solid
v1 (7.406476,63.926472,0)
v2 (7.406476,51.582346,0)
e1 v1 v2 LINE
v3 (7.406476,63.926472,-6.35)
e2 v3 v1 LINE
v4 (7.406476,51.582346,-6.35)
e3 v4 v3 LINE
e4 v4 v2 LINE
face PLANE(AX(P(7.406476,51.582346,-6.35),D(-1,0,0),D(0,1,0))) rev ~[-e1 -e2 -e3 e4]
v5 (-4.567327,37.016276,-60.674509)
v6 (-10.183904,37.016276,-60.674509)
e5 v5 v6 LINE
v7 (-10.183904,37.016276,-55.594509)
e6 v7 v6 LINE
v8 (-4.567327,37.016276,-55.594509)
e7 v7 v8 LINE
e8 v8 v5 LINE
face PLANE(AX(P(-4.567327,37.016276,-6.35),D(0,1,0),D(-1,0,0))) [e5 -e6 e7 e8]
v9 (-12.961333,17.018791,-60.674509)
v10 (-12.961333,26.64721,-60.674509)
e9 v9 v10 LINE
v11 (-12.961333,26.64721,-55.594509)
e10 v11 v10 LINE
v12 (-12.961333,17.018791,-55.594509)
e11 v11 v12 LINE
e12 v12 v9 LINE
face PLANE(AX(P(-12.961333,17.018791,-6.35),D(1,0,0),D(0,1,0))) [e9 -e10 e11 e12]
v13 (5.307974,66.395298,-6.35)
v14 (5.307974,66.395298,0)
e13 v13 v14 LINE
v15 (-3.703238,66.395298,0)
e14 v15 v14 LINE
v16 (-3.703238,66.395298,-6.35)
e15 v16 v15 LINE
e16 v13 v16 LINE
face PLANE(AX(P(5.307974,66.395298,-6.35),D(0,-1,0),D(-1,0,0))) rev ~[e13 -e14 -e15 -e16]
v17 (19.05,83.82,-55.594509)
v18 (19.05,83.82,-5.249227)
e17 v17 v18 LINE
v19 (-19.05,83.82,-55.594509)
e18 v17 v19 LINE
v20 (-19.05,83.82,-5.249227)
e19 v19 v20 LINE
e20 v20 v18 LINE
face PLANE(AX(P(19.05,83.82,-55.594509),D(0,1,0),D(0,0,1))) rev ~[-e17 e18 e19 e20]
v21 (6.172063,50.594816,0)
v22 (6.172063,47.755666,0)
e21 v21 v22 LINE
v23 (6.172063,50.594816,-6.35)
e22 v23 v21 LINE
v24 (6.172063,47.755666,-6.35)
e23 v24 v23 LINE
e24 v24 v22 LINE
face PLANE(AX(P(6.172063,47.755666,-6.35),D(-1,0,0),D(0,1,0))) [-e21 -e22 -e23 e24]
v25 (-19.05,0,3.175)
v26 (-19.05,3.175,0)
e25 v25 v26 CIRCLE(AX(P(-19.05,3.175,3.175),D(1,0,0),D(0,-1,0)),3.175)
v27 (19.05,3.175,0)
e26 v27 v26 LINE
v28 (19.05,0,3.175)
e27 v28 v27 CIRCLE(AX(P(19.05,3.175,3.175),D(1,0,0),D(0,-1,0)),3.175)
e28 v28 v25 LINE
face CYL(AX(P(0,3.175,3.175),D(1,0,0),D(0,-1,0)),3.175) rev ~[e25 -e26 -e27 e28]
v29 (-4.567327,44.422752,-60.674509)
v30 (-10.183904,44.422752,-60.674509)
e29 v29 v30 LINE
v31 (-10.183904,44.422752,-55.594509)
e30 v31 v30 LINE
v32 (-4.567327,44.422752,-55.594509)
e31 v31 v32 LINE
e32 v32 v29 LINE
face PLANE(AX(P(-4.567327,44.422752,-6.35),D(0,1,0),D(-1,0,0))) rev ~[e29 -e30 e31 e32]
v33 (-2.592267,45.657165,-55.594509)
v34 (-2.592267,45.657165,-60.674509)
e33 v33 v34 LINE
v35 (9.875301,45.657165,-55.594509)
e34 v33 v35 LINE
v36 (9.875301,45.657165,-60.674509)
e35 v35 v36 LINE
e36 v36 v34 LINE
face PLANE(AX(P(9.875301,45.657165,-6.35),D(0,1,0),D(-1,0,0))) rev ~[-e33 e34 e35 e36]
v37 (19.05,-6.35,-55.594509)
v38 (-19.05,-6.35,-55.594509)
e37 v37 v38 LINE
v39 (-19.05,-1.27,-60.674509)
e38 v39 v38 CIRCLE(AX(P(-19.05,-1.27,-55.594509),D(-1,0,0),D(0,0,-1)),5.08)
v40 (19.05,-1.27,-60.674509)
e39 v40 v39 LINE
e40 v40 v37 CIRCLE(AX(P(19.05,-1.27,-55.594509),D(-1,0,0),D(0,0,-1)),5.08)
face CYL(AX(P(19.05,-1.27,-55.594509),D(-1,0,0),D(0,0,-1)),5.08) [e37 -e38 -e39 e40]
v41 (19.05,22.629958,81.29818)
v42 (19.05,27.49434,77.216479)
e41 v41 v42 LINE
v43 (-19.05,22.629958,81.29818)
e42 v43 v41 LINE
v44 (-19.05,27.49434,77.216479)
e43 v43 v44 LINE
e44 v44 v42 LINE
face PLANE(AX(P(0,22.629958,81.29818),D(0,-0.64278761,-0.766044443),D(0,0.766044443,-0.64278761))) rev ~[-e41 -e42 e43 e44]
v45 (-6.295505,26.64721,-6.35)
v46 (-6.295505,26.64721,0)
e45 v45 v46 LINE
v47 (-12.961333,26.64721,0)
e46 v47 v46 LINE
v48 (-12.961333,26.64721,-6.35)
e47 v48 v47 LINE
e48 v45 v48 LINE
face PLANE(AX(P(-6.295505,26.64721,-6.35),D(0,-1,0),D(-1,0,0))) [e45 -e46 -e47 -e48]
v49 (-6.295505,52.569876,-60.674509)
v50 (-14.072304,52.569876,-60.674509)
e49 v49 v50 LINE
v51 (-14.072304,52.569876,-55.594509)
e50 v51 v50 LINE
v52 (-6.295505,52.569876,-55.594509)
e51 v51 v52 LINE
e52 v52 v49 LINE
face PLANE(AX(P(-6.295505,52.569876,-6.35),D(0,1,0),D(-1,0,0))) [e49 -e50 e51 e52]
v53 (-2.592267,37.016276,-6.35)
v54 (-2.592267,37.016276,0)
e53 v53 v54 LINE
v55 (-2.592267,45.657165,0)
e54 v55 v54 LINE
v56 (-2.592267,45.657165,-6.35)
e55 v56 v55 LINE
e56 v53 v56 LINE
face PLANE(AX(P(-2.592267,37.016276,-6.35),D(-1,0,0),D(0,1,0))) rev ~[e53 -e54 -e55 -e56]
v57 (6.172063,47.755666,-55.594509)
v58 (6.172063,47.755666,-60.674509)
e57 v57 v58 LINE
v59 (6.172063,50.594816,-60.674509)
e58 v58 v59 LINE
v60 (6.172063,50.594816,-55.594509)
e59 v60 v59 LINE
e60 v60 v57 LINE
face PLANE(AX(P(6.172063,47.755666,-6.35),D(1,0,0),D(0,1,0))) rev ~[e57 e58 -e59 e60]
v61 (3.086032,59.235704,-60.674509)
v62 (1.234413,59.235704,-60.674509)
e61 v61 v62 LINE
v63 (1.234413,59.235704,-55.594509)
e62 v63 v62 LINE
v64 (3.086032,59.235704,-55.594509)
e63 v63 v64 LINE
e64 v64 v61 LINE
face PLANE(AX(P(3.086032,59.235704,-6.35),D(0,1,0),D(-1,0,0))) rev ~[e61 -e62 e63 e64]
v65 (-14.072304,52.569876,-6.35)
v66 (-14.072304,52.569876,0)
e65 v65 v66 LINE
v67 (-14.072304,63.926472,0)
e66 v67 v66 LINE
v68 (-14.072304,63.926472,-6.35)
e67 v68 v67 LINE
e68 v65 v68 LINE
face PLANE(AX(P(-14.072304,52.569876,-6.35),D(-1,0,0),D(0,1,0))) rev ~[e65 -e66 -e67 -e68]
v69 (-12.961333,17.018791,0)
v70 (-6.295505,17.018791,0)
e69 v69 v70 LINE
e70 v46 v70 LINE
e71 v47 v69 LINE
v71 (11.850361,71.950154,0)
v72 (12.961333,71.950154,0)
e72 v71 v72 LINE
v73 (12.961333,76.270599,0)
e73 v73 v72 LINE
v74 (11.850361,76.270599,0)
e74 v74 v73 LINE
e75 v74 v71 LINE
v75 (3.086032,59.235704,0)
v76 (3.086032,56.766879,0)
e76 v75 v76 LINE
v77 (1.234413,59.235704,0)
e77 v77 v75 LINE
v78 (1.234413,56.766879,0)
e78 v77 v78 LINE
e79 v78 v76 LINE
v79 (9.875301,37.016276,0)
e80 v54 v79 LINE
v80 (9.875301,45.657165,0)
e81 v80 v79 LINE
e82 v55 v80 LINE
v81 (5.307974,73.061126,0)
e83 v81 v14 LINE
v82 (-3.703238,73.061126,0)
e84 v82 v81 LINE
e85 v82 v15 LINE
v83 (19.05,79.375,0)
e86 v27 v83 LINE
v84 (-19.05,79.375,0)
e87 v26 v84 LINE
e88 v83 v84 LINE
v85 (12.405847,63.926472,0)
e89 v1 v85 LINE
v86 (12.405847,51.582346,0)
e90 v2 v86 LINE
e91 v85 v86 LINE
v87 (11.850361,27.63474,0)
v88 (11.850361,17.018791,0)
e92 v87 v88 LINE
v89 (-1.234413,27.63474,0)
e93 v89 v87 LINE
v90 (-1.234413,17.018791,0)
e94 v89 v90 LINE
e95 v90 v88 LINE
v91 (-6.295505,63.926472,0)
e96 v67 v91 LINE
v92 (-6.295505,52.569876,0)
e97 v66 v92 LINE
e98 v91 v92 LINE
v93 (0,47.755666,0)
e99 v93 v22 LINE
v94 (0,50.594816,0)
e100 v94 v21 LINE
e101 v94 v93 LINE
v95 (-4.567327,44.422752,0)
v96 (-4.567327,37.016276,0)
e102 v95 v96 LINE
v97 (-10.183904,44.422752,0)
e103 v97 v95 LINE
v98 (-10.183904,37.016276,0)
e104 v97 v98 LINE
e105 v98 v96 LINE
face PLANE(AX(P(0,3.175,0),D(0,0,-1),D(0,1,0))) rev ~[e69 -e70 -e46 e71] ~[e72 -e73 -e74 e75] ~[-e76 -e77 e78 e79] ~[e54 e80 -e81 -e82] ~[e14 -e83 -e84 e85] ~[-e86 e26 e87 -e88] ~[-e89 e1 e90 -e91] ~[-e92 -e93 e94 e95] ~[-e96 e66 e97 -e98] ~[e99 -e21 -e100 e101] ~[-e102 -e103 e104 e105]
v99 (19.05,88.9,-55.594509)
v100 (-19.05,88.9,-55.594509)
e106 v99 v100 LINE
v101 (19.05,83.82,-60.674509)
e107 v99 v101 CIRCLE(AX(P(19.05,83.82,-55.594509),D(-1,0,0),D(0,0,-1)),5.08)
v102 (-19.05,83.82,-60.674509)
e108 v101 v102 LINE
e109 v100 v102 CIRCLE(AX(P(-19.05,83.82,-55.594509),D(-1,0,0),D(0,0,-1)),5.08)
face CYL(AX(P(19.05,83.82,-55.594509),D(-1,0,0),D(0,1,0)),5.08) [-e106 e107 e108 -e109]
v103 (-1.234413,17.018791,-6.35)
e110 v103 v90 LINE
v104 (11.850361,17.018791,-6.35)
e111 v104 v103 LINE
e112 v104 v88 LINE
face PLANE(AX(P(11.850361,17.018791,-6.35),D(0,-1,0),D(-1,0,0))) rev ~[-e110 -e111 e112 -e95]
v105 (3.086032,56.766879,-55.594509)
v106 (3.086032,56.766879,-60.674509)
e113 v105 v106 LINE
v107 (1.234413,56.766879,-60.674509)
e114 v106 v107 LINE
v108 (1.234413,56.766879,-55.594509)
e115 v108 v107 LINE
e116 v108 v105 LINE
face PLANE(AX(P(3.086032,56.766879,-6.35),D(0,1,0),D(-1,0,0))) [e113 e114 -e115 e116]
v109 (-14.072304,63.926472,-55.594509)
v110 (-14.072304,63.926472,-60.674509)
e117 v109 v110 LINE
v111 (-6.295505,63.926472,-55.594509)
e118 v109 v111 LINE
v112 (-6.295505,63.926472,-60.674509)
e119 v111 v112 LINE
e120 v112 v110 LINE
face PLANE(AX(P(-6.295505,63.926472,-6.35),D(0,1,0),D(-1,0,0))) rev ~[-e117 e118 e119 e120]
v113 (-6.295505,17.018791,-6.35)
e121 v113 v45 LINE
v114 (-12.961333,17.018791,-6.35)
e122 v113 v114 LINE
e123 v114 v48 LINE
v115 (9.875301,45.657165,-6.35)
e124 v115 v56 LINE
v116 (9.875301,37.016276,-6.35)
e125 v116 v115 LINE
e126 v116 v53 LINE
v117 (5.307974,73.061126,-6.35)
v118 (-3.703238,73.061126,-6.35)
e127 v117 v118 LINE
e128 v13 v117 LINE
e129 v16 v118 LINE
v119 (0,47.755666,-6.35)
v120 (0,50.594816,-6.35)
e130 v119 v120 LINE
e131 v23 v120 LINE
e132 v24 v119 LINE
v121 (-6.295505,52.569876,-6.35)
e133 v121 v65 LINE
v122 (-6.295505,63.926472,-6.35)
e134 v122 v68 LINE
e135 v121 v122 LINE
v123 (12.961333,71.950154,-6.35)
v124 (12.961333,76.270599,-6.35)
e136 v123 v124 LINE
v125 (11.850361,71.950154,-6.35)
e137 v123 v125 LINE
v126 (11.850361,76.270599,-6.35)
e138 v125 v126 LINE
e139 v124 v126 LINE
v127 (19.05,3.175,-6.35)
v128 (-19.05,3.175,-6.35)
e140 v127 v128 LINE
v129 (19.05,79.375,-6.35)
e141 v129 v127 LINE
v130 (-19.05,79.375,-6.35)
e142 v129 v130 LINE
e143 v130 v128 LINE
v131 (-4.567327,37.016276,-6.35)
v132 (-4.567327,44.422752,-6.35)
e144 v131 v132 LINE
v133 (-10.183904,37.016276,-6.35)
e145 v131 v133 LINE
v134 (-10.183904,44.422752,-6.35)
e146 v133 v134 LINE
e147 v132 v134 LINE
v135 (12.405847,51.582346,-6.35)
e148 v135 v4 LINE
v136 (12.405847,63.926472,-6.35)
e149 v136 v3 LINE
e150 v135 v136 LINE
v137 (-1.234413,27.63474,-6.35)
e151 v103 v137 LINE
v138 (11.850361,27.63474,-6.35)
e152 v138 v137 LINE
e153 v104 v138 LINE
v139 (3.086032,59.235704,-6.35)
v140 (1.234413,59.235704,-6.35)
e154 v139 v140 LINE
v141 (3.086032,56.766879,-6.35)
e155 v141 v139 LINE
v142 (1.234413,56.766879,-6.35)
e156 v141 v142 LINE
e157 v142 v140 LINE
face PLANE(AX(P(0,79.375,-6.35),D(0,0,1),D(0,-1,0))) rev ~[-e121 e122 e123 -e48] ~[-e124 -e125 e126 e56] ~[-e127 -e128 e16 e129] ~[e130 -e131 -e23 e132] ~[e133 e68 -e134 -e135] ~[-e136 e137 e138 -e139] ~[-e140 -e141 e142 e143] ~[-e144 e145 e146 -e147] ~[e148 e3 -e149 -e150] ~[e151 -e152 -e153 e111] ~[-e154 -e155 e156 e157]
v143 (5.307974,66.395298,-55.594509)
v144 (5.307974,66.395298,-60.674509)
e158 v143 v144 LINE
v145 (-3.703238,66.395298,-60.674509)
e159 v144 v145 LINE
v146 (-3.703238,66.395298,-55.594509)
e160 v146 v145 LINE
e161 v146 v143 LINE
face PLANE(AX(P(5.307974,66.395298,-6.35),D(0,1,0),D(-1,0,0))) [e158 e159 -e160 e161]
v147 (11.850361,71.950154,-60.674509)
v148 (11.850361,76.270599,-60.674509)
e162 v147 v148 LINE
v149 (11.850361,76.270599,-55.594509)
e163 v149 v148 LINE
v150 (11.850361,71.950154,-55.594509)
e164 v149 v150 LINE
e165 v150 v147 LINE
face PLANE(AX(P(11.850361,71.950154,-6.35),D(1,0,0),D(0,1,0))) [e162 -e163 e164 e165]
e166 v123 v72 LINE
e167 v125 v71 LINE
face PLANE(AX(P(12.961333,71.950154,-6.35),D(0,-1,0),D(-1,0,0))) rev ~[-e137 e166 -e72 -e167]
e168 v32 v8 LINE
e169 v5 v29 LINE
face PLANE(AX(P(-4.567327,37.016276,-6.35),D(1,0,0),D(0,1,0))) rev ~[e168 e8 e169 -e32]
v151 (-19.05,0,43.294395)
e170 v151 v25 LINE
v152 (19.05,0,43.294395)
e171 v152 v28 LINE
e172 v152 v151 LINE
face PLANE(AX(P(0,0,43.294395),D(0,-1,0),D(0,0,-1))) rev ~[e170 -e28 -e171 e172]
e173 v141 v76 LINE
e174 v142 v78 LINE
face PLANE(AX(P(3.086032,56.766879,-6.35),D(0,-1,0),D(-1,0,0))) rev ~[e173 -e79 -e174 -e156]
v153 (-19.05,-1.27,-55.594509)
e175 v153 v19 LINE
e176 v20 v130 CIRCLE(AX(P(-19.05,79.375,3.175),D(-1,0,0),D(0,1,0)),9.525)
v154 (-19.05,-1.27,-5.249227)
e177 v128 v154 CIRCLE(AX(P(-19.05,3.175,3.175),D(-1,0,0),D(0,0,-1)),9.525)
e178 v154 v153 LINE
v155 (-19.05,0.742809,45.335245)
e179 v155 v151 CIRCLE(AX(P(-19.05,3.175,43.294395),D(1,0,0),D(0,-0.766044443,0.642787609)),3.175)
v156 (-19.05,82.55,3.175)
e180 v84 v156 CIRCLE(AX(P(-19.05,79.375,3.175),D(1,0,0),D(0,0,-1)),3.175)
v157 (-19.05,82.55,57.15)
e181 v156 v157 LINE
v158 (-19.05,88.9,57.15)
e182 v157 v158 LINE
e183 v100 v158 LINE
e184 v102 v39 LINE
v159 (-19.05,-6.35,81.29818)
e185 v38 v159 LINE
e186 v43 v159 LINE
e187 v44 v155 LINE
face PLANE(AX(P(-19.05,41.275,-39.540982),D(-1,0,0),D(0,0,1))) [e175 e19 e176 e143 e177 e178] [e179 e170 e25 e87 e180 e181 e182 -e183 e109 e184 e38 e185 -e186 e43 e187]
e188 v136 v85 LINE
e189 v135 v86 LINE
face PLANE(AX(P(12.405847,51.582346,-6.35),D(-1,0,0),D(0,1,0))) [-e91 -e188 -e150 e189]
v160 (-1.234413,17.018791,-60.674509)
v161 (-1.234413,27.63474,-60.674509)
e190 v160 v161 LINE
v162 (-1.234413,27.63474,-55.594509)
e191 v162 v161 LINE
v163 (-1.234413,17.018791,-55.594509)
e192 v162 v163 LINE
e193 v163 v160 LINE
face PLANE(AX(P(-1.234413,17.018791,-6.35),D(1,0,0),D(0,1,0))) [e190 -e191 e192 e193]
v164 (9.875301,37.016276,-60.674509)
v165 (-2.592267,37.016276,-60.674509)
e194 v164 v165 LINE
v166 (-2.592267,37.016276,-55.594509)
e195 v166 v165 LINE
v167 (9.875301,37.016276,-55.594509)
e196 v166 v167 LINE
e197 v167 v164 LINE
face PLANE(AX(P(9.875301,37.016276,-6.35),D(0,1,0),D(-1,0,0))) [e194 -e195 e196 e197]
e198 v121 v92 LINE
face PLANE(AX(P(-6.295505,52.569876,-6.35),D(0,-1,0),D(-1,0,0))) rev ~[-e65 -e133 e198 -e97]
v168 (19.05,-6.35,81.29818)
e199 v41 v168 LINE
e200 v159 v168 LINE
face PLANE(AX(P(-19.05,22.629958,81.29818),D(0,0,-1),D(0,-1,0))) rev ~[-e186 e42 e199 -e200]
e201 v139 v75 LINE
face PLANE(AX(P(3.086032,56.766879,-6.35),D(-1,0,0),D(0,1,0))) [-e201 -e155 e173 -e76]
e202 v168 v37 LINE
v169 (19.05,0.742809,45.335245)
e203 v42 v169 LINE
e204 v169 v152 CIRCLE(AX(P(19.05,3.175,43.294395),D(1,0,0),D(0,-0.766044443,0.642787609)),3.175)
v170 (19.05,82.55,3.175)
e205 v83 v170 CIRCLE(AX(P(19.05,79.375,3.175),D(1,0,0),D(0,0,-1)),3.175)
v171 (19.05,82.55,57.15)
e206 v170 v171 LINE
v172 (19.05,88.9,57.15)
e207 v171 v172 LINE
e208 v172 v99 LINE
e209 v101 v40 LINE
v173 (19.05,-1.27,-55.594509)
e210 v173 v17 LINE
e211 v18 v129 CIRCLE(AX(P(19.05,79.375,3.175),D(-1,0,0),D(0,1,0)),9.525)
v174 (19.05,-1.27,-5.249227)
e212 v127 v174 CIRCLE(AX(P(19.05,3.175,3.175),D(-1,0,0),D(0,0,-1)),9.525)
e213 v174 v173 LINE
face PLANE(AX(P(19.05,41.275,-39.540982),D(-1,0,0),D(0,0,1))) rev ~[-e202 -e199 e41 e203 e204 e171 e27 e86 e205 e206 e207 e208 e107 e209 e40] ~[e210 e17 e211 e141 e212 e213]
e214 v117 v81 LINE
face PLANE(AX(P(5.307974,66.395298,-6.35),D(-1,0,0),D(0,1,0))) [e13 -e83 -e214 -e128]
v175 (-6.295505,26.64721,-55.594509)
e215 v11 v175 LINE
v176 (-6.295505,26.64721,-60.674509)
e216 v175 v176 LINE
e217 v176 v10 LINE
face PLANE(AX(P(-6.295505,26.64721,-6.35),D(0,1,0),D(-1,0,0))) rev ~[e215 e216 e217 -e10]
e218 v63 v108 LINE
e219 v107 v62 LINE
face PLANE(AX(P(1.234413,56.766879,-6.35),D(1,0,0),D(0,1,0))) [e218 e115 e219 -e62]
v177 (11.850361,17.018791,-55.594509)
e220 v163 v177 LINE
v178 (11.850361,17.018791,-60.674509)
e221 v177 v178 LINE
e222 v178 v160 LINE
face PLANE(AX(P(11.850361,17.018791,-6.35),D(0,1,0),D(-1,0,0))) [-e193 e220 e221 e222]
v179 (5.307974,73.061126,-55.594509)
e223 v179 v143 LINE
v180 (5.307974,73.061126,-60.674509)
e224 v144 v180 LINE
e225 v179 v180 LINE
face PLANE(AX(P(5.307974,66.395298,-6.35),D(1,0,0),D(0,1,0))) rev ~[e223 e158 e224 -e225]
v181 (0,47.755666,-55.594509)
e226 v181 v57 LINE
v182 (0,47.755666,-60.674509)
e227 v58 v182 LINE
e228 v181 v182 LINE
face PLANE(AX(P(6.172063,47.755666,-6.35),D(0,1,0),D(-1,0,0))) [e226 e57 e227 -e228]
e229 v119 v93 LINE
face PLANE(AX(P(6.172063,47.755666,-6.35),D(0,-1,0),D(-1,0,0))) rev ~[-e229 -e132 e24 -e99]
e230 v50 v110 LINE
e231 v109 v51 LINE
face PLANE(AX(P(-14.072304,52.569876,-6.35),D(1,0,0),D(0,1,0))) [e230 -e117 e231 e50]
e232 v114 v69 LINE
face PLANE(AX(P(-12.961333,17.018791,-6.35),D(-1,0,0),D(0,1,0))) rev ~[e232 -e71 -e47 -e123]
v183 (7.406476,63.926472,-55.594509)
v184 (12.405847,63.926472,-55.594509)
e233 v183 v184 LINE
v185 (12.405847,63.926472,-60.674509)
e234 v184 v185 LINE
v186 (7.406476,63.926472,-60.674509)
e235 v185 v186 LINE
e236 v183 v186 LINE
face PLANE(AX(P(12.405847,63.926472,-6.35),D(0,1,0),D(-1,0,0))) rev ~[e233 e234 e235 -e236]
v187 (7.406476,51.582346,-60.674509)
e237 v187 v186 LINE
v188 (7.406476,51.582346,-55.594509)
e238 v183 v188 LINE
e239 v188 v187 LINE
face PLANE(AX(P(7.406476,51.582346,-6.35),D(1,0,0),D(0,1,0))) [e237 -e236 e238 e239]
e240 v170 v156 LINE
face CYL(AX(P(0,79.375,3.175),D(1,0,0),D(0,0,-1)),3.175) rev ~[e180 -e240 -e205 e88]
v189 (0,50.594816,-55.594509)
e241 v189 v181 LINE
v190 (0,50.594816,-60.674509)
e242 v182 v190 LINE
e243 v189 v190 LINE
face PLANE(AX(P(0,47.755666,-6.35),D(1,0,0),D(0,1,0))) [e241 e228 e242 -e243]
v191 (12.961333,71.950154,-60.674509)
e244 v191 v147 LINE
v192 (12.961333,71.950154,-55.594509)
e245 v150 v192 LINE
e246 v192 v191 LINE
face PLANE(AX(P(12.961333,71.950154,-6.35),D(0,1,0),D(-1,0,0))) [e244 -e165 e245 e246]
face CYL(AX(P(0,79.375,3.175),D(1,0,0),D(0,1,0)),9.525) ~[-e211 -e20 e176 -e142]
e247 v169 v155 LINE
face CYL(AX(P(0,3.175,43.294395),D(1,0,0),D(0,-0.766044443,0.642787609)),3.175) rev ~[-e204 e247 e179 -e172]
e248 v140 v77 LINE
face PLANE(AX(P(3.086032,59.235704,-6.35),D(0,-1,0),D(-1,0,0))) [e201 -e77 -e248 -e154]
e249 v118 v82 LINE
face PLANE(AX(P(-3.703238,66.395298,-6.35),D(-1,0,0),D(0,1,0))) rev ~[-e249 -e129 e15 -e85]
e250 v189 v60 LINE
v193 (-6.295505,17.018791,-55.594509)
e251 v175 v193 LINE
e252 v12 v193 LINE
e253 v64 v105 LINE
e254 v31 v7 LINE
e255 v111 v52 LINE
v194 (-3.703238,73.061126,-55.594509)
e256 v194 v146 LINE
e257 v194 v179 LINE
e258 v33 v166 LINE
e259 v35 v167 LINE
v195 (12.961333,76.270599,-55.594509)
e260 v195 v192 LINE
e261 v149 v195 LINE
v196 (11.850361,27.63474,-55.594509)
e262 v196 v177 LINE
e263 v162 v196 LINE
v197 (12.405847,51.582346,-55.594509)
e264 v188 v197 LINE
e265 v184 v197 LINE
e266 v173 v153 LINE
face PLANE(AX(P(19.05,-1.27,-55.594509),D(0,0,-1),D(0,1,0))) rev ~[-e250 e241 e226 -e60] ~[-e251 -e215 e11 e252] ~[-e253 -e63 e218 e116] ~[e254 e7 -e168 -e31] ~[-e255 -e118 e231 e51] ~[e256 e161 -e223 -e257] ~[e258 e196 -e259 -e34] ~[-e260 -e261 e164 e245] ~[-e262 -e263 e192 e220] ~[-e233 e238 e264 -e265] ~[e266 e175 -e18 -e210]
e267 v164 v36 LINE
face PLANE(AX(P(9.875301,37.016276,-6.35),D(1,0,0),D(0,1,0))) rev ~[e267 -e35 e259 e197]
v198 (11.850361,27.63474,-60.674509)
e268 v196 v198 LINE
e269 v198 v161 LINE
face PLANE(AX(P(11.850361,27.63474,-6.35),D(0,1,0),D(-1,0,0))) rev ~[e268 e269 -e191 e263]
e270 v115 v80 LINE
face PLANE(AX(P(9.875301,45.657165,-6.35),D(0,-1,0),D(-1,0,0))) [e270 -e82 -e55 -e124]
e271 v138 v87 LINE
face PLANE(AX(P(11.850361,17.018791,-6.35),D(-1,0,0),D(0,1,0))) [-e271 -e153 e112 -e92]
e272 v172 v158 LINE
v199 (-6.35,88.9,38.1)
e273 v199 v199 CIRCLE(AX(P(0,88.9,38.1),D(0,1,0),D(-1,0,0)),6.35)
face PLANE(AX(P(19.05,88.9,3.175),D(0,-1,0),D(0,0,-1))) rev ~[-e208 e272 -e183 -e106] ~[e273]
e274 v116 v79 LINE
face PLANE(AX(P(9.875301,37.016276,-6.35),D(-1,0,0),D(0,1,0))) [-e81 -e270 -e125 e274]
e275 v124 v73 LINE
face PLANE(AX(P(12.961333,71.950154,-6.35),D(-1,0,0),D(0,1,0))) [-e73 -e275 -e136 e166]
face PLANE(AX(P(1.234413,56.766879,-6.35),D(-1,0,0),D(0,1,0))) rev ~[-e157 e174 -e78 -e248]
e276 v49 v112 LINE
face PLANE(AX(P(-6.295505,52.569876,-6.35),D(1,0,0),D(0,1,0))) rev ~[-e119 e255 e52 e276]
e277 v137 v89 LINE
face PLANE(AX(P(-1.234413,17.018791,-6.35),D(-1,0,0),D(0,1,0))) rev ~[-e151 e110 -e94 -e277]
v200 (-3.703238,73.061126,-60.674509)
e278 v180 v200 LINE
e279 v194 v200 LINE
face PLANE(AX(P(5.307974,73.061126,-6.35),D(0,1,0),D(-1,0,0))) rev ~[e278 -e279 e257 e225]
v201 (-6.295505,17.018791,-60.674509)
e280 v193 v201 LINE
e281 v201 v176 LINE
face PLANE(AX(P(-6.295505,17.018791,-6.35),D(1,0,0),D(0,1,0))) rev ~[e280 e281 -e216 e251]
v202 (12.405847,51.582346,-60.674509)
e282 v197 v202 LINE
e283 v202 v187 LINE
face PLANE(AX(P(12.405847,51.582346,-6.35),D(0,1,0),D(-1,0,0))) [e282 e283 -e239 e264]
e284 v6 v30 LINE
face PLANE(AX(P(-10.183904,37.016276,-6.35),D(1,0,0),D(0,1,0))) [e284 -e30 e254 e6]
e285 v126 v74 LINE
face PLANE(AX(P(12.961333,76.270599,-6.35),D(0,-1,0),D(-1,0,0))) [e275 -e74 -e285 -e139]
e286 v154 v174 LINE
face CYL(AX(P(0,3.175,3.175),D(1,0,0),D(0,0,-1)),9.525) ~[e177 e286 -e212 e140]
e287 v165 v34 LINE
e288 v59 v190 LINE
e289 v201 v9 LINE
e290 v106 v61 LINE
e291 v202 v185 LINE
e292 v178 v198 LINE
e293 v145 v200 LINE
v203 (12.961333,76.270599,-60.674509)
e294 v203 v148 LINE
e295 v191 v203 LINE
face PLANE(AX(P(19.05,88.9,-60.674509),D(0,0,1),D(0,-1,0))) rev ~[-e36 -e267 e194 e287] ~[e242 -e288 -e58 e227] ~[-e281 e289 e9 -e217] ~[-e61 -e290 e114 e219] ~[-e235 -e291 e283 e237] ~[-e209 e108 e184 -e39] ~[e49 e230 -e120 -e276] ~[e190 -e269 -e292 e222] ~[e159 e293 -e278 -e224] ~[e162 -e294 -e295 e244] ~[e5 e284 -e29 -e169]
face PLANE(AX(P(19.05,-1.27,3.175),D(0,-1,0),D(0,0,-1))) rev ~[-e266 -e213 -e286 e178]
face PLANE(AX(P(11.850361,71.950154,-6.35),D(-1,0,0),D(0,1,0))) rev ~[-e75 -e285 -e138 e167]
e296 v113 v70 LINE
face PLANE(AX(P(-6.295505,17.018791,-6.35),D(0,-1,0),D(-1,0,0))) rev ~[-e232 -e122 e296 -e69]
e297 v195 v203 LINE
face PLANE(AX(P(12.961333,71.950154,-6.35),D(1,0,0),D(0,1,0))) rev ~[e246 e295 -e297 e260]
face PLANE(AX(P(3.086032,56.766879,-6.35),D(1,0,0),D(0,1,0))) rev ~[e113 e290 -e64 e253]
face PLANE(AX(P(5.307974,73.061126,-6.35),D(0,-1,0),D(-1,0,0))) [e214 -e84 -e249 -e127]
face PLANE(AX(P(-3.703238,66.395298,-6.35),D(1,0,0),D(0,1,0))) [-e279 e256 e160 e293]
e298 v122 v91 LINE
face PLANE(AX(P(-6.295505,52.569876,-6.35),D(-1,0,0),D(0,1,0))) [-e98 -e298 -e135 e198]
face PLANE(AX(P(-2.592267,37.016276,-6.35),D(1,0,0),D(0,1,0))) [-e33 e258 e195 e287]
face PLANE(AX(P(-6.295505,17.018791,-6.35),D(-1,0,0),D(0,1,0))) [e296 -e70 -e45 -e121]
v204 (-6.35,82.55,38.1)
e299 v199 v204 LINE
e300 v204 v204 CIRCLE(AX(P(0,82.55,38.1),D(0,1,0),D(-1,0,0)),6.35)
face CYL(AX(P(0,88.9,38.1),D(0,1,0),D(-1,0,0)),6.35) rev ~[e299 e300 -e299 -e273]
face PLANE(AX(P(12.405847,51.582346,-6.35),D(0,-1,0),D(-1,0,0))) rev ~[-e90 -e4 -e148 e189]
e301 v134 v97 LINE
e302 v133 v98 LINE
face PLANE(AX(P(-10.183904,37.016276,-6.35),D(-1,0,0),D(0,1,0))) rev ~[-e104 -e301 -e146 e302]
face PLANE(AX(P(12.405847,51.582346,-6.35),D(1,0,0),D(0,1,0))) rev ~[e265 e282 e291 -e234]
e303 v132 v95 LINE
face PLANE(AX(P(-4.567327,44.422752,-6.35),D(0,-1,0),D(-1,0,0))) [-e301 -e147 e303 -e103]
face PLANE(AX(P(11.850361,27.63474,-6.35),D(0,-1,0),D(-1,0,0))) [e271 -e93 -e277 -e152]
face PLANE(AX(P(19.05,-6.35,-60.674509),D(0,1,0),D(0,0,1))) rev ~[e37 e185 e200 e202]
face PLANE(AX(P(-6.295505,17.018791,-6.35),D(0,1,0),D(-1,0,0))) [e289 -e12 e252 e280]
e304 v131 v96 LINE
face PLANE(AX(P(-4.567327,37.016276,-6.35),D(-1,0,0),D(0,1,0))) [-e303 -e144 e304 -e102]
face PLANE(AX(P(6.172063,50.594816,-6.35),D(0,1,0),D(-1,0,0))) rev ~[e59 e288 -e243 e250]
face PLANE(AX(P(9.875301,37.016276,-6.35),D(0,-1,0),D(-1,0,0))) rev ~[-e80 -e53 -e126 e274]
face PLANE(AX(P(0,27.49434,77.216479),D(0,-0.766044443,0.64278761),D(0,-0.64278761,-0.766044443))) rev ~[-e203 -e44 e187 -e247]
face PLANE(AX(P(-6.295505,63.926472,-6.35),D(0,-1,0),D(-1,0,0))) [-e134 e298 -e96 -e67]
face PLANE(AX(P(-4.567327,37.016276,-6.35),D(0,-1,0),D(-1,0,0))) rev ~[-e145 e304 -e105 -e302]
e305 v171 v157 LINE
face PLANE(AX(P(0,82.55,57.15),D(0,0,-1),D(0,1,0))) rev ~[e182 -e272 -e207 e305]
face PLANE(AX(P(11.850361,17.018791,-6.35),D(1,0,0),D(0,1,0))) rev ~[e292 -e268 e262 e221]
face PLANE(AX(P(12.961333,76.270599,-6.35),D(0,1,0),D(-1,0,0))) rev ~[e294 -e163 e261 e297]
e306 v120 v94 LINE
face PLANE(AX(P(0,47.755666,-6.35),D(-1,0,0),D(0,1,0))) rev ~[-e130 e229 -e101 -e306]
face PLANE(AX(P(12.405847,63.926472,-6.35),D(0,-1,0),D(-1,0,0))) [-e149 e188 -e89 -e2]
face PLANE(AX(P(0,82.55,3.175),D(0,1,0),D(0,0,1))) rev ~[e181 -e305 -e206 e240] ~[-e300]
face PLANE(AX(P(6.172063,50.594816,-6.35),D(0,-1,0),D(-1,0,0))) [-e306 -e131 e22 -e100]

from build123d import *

# Parameters (mm, degrees)
BASE_EXTRUDE_THIN_DEPTH        = 19.05
CUT_EXTRUDE1_REACH             = 97.25
SKETCH2_R                      = 6.35
BOSS_EXTRUDE1_START            = -19.05
BOSS_EXTRUDE1_DEPTH            = 38.1
EXTRUDE_THIN1_DEPTH            = 38.1
CUT_EXTRUDE2_REACH             = 89.648
SKETCH4_W                      = 1.110971389
SKETCH4_H                      = 4.320444291
SKETCH4_W_2                    = 1.851618982
SKETCH4_H_2                    = 2.46882531
SKETCH4_W_3                    = 12.467567812
SKETCH4_H_3                    = 8.640888583
SKETCH4_W_4                    = 7.776799724
SKETCH4_H_4                    = 11.356596423
SKETCH4_W_5                    = 13.08477414
SKETCH4_H_5                    = 10.61594883
SKETCH4_W_6                    = 6.665828335
SKETCH4_H_6                    = 9.628418706
SKETCH4_W_7                    = 5.616577579
SKETCH4_H_7                    = 7.406475928
SKETCH4_W_8                    = 9.011212379
SKETCH4_H_8                    = 6.665828335
SKETCH4_W_9                    = 6.172063273
SKETCH4_H_9                    = 2.839149106
SKETCH4_W_10                   = 4.999371251
SKETCH4_H_10                   = 12.344126546
CUT_EXTRUDE2_DIRECTION_2_DEPTH = 55.324508946
FILLET1_R                      = 5.08


with BuildPart() as part:
    # Sketch1 → Base-Extrude-Thin (new body, symmetric)
    with BuildSketch(Plane(origin=(0, 0, 0), x_dir=(0, 0, -1), z_dir=(1, 0, 0))):
        with BuildLine():
            Line((-77.216478592, 27.494340102), (-45.335245167, 0.742808893))
            ThreePointArc((-45.335245167, 0.742808893), (-44.380308461, 0.191475929), (-43.294394506, 0))
            Line((-43.294394506, 0), (-3.175, 0))
            ThreePointArc((-3.175, 0), (-0.92993597, 0.92993597), (0, 3.175))
            Line((0, 3.175), (0, 79.375))
            ThreePointArc((0, 79.375), (-0.92993597, 81.62006403), (-3.175, 82.55))
            Line((-3.175, 82.55), (-57.15, 82.55))
            Line((-57.15, 82.55), (-57.15, 88.9))
            Line((-57.15, 88.9), (-3.175, 88.9))
            ThreePointArc((-3.175, 88.9), (3.560192091, 86.110192091), (6.35, 79.375))
            Line((6.35, 79.375), (6.35, 3.175))
            ThreePointArc((6.35, 3.175), (3.560192091, -3.560192091), (-3.175, -6.35))
            Line((-3.175, -6.35), (-43.294394506, -6.35))
            ThreePointArc((-43.294394506, -6.35), (-46.552136371, -5.775572213), (-49.416946488, -4.121573321))
            Line((-49.416946488, -4.121573321), (-81.298179914, 22.629957888))
            Line((-81.298179914, 22.629957888), (-77.216478592, 27.494340102))
        make_face()
    extrude(amount=BASE_EXTRUDE_THIN_DEPTH, both=True)

    # Sketch2 → Cut-Extrude1 (cut, up to next)
    with BuildSketch(Plane(origin=(0, 88.9, 0), x_dir=(-1, 0, 0), z_dir=(0, 1, 0)), mode=Mode.PRIVATE) as cut_extrude1_sk1:
        with Locations((0, 38.1)):
            Circle(SKETCH2_R)
    cut_extrude1_tool1 = extrude(cut_extrude1_sk1.sketch, amount=-CUT_EXTRUDE1_REACH, mode=Mode.PRIVATE) & part.part
    add(cut_extrude1_tool1.solids().sort_by_distance((0, 88.9, 38.1))[0], mode=Mode.SUBTRACT)

    # Sketch3 → Boss-Extrude1 (add)
    with BuildSketch(Plane(origin=(0, 0, 0), x_dir=(0, 0, -1), z_dir=(1, 0, 0)).offset(BOSS_EXTRUDE1_START)):
        with BuildLine():
            Line((-49.416946488, -4.121573321), (-81.298179914, 22.629957888))
            Line((-81.298179914, 22.629957888), (-81.298179914, -6.35))
            Line((-81.298179914, -6.35), (-43.294394506, -6.35))
            ThreePointArc((-43.294394506, -6.35), (-46.552136371, -5.775572213), (-49.416946488, -4.121573321))
        make_face()
    extrude(amount=BOSS_EXTRUDE1_DEPTH)

    # Sketch5 → Extrude-Thin1 (add, through all)
    with BuildSketch(Plane(origin=(19.05, 0, 0), x_dir=(0, 0, -1), z_dir=(1, 0, 0))):
        Polygon((-3.175, 88.9), (60.674508946, 88.9), (60.674508946, -6.35), (-3.175, -6.35), (-3.175, -1.27), (55.594508946, -1.27), (55.594508946, 83.82), (-3.175, 83.82), align=None)
    extrude(amount=-EXTRUDE_THIN1_DEPTH)

    # Sketch4 → Cut-Extrude2 (cut, up to next)
    with BuildSketch(Plane(origin=(0, 0, -6.35), x_dir=(-1, 0, 0), z_dir=(0, 0, -1)), mode=Mode.PRIVATE) as cut_extrude2_sk1:
        with Locations((-12.40584718, 74.110376614)):
            Rectangle(SKETCH4_W, SKETCH4_H)
    cut_extrude2_tool1 = extrude(cut_extrude2_sk1.sketch, amount=-CUT_EXTRUDE2_REACH, mode=Mode.PRIVATE) & part.part
    add(cut_extrude2_tool1.solids().sort_by_distance((12.405847, 74.110377, -6.35))[0], mode=Mode.SUBTRACT)
    # Sketch4 → Cut-Extrude2 (cut, up to next)
    with BuildSketch(Plane(origin=(0, 0, -6.35), x_dir=(-1, 0, 0), z_dir=(0, 0, -1)), mode=Mode.PRIVATE) as cut_extrude2_sk2:
        with Locations((-2.160222146, 58.001291471)):
            Rectangle(SKETCH4_W_2, SKETCH4_H_2)
    cut_extrude2_tool2 = extrude(cut_extrude2_sk2.sketch, amount=-CUT_EXTRUDE2_REACH, mode=Mode.PRIVATE) & part.part
    add(cut_extrude2_tool2.solids().sort_by_distance((2.160222, 58.001291, -6.35))[0], mode=Mode.SUBTRACT)
    # Sketch4 → Cut-Extrude2 (cut, up to next)
    with BuildSketch(Plane(origin=(0, 0, -6.35), x_dir=(-1, 0, 0), z_dir=(0, 0, -1)), mode=Mode.PRIVATE) as cut_extrude2_sk3:
        with Locations((-3.641517331, 41.336720633)):
            Rectangle(SKETCH4_W_3, SKETCH4_H_3)
    cut_extrude2_tool3 = extrude(cut_extrude2_sk3.sketch, amount=-CUT_EXTRUDE2_REACH, mode=Mode.PRIVATE) & part.part
    add(cut_extrude2_tool3.solids().sort_by_distance((3.641517, 41.336721, -6.35))[0], mode=Mode.SUBTRACT)
    # Sketch4 → Cut-Extrude2 (cut, up to next)
    with BuildSketch(Plane(origin=(0, 0, -6.35), x_dir=(-1, 0, 0), z_dir=(0, 0, -1)), mode=Mode.PRIVATE) as cut_extrude2_sk4:
        with Locations((10.183904401, 58.248174002)):
            Rectangle(SKETCH4_W_4, SKETCH4_H_4)
    cut_extrude2_tool4 = extrude(cut_extrude2_sk4.sketch, amount=-CUT_EXTRUDE2_REACH, mode=Mode.PRIVATE) & part.part
    add(cut_extrude2_tool4.solids().sort_by_distance((-10.183904, 58.248174, -6.35))[0], mode=Mode.SUBTRACT)
    # Sketch4 → Cut-Extrude2 (cut, up to next)
    with BuildSketch(Plane(origin=(0, 0, -6.35), x_dir=(-1, 0, 0), z_dir=(0, 0, -1)), mode=Mode.PRIVATE) as cut_extrude2_sk5:
        with Locations((-5.307974415, 22.326765751)):
            Rectangle(SKETCH4_W_5, SKETCH4_H_5)
    cut_extrude2_tool5 = extrude(cut_extrude2_sk5.sketch, amount=-CUT_EXTRUDE2_REACH, mode=Mode.PRIVATE) & part.part
    add(cut_extrude2_tool5.solids().sort_by_distance((5.307974, 22.326766, -6.35))[0], mode=Mode.SUBTRACT)
    # Sketch4 → Cut-Extrude2 (cut, up to next)
    with BuildSketch(Plane(origin=(0, 0, -6.35), x_dir=(-1, 0, 0), z_dir=(0, 0, -1)), mode=Mode.PRIVATE) as cut_extrude2_sk6:
        with Locations((9.628418706, 21.833000689)):
            Rectangle(SKETCH4_W_6, SKETCH4_H_6)
    cut_extrude2_tool6 = extrude(cut_extrude2_sk6.sketch, amount=-CUT_EXTRUDE2_REACH, mode=Mode.PRIVATE) & part.part
    add(cut_extrude2_tool6.solids().sort_by_distance((-9.628419, 21.833001, -6.35))[0], mode=Mode.SUBTRACT)
    # Sketch4 → Cut-Extrude2 (cut, up to next)
    with BuildSketch(Plane(origin=(0, 0, -6.35), x_dir=(-1, 0, 0), z_dir=(0, 0, -1)), mode=Mode.PRIVATE) as cut_extrude2_sk7:
        with Locations((7.375615612, 40.719514305)):
            Rectangle(SKETCH4_W_7, SKETCH4_H_7)
    cut_extrude2_tool7 = extrude(cut_extrude2_sk7.sketch, amount=-CUT_EXTRUDE2_REACH, mode=Mode.PRIVATE) & part.part
    add(cut_extrude2_tool7.solids().sort_by_distance((-7.375616, 40.719514, -6.35))[0], mode=Mode.SUBTRACT)
    # Sketch4 → Cut-Extrude2 (cut, up to next)
    with BuildSketch(Plane(origin=(0, 0, -6.35), x_dir=(-1, 0, 0), z_dir=(0, 0, -1)), mode=Mode.PRIVATE) as cut_extrude2_sk8:
        with Locations((-0.802368225, 69.728211691)):
            Rectangle(SKETCH4_W_8, SKETCH4_H_8)
    cut_extrude2_tool8 = extrude(cut_extrude2_sk8.sketch, amount=-CUT_EXTRUDE2_REACH, mode=Mode.PRIVATE) & part.part
    add(cut_extrude2_tool8.solids().sort_by_distance((0.802368, 69.728212, -6.35))[0], mode=Mode.SUBTRACT)
    # Sketch4 → Cut-Extrude2 (cut, up to next)
    with BuildSketch(Plane(origin=(0, 0, -6.35), x_dir=(-1, 0, 0), z_dir=(0, 0, -1)), mode=Mode.PRIVATE) as cut_extrude2_sk9:
        with Locations((-3.086031637, 49.17524099)):
            Rectangle(SKETCH4_W_9, SKETCH4_H_9)
    cut_extrude2_tool9 = extrude(cut_extrude2_sk9.sketch, amount=-CUT_EXTRUDE2_REACH, mode=Mode.PRIVATE) & part.part
    add(cut_extrude2_tool9.solids().sort_by_distance((3.086032, 49.175241, -6.35))[0], mode=Mode.SUBTRACT)
    # Sketch4 → Cut-Extrude2 (cut, up to next)
    with BuildSketch(Plane(origin=(0, 0, -6.35), x_dir=(-1, 0, 0), z_dir=(0, 0, -1)), mode=Mode.PRIVATE) as cut_extrude2_sk10:
        with Locations((-9.906161554, 57.75440894)):
            Rectangle(SKETCH4_W_10, SKETCH4_H_10)
    cut_extrude2_tool10 = extrude(cut_extrude2_sk10.sketch, amount=-CUT_EXTRUDE2_REACH, mode=Mode.PRIVATE) & part.part
    add(cut_extrude2_tool10.solids().sort_by_distance((9.906162, 57.754409, -6.35))[0], mode=Mode.SUBTRACT)

    # Sketch4 → Cut-Extrude2 direction 2 (cut)
    with BuildSketch(Plane(origin=(0, 0, -6.35), x_dir=(-1, 0, 0), z_dir=(0, 0, -1))):
        with Locations((-12.40584718, 74.110376614)):
            Rectangle(SKETCH4_W, SKETCH4_H)
        with Locations((-2.160222146, 58.001291471)):
            Rectangle(SKETCH4_W_2, SKETCH4_H_2)
        with Locations((-3.641517331, 41.336720633)):
            Rectangle(SKETCH4_W_3, SKETCH4_H_3)
        with Locations((10.183904401, 58.248174002)):
            Rectangle(SKETCH4_W_4, SKETCH4_H_4)
        with Locations((-5.307974415, 22.326765751)):
            Rectangle(SKETCH4_W_5, SKETCH4_H_5)
        with Locations((9.628418706, 21.833000689)):
            Rectangle(SKETCH4_W_6, SKETCH4_H_6)
        with Locations((7.375615612, 40.719514305)):
            Rectangle(SKETCH4_W_7, SKETCH4_H_7)
        with Locations((-0.802368225, 69.728211691)):
            Rectangle(SKETCH4_W_8, SKETCH4_H_8)
        with Locations((-3.086031637, 49.17524099)):
            Rectangle(SKETCH4_W_9, SKETCH4_H_9)
        with Locations((-9.906161554, 57.75440894)):
            Rectangle(SKETCH4_W_10, SKETCH4_H_10)
    extrude(amount=CUT_EXTRUDE2_DIRECTION_2_DEPTH, mode=Mode.SUBTRACT)

    # Fillet1
    fillet1_edges = [part.edges().sort_by_distance(p)[0] for p in [
        (0, 88.9, -60.674508946),
        (0, -6.35, -60.674508946),
    ]]
    fillet(fillet1_edges, radius=FILLET1_R)


solid = part.part
